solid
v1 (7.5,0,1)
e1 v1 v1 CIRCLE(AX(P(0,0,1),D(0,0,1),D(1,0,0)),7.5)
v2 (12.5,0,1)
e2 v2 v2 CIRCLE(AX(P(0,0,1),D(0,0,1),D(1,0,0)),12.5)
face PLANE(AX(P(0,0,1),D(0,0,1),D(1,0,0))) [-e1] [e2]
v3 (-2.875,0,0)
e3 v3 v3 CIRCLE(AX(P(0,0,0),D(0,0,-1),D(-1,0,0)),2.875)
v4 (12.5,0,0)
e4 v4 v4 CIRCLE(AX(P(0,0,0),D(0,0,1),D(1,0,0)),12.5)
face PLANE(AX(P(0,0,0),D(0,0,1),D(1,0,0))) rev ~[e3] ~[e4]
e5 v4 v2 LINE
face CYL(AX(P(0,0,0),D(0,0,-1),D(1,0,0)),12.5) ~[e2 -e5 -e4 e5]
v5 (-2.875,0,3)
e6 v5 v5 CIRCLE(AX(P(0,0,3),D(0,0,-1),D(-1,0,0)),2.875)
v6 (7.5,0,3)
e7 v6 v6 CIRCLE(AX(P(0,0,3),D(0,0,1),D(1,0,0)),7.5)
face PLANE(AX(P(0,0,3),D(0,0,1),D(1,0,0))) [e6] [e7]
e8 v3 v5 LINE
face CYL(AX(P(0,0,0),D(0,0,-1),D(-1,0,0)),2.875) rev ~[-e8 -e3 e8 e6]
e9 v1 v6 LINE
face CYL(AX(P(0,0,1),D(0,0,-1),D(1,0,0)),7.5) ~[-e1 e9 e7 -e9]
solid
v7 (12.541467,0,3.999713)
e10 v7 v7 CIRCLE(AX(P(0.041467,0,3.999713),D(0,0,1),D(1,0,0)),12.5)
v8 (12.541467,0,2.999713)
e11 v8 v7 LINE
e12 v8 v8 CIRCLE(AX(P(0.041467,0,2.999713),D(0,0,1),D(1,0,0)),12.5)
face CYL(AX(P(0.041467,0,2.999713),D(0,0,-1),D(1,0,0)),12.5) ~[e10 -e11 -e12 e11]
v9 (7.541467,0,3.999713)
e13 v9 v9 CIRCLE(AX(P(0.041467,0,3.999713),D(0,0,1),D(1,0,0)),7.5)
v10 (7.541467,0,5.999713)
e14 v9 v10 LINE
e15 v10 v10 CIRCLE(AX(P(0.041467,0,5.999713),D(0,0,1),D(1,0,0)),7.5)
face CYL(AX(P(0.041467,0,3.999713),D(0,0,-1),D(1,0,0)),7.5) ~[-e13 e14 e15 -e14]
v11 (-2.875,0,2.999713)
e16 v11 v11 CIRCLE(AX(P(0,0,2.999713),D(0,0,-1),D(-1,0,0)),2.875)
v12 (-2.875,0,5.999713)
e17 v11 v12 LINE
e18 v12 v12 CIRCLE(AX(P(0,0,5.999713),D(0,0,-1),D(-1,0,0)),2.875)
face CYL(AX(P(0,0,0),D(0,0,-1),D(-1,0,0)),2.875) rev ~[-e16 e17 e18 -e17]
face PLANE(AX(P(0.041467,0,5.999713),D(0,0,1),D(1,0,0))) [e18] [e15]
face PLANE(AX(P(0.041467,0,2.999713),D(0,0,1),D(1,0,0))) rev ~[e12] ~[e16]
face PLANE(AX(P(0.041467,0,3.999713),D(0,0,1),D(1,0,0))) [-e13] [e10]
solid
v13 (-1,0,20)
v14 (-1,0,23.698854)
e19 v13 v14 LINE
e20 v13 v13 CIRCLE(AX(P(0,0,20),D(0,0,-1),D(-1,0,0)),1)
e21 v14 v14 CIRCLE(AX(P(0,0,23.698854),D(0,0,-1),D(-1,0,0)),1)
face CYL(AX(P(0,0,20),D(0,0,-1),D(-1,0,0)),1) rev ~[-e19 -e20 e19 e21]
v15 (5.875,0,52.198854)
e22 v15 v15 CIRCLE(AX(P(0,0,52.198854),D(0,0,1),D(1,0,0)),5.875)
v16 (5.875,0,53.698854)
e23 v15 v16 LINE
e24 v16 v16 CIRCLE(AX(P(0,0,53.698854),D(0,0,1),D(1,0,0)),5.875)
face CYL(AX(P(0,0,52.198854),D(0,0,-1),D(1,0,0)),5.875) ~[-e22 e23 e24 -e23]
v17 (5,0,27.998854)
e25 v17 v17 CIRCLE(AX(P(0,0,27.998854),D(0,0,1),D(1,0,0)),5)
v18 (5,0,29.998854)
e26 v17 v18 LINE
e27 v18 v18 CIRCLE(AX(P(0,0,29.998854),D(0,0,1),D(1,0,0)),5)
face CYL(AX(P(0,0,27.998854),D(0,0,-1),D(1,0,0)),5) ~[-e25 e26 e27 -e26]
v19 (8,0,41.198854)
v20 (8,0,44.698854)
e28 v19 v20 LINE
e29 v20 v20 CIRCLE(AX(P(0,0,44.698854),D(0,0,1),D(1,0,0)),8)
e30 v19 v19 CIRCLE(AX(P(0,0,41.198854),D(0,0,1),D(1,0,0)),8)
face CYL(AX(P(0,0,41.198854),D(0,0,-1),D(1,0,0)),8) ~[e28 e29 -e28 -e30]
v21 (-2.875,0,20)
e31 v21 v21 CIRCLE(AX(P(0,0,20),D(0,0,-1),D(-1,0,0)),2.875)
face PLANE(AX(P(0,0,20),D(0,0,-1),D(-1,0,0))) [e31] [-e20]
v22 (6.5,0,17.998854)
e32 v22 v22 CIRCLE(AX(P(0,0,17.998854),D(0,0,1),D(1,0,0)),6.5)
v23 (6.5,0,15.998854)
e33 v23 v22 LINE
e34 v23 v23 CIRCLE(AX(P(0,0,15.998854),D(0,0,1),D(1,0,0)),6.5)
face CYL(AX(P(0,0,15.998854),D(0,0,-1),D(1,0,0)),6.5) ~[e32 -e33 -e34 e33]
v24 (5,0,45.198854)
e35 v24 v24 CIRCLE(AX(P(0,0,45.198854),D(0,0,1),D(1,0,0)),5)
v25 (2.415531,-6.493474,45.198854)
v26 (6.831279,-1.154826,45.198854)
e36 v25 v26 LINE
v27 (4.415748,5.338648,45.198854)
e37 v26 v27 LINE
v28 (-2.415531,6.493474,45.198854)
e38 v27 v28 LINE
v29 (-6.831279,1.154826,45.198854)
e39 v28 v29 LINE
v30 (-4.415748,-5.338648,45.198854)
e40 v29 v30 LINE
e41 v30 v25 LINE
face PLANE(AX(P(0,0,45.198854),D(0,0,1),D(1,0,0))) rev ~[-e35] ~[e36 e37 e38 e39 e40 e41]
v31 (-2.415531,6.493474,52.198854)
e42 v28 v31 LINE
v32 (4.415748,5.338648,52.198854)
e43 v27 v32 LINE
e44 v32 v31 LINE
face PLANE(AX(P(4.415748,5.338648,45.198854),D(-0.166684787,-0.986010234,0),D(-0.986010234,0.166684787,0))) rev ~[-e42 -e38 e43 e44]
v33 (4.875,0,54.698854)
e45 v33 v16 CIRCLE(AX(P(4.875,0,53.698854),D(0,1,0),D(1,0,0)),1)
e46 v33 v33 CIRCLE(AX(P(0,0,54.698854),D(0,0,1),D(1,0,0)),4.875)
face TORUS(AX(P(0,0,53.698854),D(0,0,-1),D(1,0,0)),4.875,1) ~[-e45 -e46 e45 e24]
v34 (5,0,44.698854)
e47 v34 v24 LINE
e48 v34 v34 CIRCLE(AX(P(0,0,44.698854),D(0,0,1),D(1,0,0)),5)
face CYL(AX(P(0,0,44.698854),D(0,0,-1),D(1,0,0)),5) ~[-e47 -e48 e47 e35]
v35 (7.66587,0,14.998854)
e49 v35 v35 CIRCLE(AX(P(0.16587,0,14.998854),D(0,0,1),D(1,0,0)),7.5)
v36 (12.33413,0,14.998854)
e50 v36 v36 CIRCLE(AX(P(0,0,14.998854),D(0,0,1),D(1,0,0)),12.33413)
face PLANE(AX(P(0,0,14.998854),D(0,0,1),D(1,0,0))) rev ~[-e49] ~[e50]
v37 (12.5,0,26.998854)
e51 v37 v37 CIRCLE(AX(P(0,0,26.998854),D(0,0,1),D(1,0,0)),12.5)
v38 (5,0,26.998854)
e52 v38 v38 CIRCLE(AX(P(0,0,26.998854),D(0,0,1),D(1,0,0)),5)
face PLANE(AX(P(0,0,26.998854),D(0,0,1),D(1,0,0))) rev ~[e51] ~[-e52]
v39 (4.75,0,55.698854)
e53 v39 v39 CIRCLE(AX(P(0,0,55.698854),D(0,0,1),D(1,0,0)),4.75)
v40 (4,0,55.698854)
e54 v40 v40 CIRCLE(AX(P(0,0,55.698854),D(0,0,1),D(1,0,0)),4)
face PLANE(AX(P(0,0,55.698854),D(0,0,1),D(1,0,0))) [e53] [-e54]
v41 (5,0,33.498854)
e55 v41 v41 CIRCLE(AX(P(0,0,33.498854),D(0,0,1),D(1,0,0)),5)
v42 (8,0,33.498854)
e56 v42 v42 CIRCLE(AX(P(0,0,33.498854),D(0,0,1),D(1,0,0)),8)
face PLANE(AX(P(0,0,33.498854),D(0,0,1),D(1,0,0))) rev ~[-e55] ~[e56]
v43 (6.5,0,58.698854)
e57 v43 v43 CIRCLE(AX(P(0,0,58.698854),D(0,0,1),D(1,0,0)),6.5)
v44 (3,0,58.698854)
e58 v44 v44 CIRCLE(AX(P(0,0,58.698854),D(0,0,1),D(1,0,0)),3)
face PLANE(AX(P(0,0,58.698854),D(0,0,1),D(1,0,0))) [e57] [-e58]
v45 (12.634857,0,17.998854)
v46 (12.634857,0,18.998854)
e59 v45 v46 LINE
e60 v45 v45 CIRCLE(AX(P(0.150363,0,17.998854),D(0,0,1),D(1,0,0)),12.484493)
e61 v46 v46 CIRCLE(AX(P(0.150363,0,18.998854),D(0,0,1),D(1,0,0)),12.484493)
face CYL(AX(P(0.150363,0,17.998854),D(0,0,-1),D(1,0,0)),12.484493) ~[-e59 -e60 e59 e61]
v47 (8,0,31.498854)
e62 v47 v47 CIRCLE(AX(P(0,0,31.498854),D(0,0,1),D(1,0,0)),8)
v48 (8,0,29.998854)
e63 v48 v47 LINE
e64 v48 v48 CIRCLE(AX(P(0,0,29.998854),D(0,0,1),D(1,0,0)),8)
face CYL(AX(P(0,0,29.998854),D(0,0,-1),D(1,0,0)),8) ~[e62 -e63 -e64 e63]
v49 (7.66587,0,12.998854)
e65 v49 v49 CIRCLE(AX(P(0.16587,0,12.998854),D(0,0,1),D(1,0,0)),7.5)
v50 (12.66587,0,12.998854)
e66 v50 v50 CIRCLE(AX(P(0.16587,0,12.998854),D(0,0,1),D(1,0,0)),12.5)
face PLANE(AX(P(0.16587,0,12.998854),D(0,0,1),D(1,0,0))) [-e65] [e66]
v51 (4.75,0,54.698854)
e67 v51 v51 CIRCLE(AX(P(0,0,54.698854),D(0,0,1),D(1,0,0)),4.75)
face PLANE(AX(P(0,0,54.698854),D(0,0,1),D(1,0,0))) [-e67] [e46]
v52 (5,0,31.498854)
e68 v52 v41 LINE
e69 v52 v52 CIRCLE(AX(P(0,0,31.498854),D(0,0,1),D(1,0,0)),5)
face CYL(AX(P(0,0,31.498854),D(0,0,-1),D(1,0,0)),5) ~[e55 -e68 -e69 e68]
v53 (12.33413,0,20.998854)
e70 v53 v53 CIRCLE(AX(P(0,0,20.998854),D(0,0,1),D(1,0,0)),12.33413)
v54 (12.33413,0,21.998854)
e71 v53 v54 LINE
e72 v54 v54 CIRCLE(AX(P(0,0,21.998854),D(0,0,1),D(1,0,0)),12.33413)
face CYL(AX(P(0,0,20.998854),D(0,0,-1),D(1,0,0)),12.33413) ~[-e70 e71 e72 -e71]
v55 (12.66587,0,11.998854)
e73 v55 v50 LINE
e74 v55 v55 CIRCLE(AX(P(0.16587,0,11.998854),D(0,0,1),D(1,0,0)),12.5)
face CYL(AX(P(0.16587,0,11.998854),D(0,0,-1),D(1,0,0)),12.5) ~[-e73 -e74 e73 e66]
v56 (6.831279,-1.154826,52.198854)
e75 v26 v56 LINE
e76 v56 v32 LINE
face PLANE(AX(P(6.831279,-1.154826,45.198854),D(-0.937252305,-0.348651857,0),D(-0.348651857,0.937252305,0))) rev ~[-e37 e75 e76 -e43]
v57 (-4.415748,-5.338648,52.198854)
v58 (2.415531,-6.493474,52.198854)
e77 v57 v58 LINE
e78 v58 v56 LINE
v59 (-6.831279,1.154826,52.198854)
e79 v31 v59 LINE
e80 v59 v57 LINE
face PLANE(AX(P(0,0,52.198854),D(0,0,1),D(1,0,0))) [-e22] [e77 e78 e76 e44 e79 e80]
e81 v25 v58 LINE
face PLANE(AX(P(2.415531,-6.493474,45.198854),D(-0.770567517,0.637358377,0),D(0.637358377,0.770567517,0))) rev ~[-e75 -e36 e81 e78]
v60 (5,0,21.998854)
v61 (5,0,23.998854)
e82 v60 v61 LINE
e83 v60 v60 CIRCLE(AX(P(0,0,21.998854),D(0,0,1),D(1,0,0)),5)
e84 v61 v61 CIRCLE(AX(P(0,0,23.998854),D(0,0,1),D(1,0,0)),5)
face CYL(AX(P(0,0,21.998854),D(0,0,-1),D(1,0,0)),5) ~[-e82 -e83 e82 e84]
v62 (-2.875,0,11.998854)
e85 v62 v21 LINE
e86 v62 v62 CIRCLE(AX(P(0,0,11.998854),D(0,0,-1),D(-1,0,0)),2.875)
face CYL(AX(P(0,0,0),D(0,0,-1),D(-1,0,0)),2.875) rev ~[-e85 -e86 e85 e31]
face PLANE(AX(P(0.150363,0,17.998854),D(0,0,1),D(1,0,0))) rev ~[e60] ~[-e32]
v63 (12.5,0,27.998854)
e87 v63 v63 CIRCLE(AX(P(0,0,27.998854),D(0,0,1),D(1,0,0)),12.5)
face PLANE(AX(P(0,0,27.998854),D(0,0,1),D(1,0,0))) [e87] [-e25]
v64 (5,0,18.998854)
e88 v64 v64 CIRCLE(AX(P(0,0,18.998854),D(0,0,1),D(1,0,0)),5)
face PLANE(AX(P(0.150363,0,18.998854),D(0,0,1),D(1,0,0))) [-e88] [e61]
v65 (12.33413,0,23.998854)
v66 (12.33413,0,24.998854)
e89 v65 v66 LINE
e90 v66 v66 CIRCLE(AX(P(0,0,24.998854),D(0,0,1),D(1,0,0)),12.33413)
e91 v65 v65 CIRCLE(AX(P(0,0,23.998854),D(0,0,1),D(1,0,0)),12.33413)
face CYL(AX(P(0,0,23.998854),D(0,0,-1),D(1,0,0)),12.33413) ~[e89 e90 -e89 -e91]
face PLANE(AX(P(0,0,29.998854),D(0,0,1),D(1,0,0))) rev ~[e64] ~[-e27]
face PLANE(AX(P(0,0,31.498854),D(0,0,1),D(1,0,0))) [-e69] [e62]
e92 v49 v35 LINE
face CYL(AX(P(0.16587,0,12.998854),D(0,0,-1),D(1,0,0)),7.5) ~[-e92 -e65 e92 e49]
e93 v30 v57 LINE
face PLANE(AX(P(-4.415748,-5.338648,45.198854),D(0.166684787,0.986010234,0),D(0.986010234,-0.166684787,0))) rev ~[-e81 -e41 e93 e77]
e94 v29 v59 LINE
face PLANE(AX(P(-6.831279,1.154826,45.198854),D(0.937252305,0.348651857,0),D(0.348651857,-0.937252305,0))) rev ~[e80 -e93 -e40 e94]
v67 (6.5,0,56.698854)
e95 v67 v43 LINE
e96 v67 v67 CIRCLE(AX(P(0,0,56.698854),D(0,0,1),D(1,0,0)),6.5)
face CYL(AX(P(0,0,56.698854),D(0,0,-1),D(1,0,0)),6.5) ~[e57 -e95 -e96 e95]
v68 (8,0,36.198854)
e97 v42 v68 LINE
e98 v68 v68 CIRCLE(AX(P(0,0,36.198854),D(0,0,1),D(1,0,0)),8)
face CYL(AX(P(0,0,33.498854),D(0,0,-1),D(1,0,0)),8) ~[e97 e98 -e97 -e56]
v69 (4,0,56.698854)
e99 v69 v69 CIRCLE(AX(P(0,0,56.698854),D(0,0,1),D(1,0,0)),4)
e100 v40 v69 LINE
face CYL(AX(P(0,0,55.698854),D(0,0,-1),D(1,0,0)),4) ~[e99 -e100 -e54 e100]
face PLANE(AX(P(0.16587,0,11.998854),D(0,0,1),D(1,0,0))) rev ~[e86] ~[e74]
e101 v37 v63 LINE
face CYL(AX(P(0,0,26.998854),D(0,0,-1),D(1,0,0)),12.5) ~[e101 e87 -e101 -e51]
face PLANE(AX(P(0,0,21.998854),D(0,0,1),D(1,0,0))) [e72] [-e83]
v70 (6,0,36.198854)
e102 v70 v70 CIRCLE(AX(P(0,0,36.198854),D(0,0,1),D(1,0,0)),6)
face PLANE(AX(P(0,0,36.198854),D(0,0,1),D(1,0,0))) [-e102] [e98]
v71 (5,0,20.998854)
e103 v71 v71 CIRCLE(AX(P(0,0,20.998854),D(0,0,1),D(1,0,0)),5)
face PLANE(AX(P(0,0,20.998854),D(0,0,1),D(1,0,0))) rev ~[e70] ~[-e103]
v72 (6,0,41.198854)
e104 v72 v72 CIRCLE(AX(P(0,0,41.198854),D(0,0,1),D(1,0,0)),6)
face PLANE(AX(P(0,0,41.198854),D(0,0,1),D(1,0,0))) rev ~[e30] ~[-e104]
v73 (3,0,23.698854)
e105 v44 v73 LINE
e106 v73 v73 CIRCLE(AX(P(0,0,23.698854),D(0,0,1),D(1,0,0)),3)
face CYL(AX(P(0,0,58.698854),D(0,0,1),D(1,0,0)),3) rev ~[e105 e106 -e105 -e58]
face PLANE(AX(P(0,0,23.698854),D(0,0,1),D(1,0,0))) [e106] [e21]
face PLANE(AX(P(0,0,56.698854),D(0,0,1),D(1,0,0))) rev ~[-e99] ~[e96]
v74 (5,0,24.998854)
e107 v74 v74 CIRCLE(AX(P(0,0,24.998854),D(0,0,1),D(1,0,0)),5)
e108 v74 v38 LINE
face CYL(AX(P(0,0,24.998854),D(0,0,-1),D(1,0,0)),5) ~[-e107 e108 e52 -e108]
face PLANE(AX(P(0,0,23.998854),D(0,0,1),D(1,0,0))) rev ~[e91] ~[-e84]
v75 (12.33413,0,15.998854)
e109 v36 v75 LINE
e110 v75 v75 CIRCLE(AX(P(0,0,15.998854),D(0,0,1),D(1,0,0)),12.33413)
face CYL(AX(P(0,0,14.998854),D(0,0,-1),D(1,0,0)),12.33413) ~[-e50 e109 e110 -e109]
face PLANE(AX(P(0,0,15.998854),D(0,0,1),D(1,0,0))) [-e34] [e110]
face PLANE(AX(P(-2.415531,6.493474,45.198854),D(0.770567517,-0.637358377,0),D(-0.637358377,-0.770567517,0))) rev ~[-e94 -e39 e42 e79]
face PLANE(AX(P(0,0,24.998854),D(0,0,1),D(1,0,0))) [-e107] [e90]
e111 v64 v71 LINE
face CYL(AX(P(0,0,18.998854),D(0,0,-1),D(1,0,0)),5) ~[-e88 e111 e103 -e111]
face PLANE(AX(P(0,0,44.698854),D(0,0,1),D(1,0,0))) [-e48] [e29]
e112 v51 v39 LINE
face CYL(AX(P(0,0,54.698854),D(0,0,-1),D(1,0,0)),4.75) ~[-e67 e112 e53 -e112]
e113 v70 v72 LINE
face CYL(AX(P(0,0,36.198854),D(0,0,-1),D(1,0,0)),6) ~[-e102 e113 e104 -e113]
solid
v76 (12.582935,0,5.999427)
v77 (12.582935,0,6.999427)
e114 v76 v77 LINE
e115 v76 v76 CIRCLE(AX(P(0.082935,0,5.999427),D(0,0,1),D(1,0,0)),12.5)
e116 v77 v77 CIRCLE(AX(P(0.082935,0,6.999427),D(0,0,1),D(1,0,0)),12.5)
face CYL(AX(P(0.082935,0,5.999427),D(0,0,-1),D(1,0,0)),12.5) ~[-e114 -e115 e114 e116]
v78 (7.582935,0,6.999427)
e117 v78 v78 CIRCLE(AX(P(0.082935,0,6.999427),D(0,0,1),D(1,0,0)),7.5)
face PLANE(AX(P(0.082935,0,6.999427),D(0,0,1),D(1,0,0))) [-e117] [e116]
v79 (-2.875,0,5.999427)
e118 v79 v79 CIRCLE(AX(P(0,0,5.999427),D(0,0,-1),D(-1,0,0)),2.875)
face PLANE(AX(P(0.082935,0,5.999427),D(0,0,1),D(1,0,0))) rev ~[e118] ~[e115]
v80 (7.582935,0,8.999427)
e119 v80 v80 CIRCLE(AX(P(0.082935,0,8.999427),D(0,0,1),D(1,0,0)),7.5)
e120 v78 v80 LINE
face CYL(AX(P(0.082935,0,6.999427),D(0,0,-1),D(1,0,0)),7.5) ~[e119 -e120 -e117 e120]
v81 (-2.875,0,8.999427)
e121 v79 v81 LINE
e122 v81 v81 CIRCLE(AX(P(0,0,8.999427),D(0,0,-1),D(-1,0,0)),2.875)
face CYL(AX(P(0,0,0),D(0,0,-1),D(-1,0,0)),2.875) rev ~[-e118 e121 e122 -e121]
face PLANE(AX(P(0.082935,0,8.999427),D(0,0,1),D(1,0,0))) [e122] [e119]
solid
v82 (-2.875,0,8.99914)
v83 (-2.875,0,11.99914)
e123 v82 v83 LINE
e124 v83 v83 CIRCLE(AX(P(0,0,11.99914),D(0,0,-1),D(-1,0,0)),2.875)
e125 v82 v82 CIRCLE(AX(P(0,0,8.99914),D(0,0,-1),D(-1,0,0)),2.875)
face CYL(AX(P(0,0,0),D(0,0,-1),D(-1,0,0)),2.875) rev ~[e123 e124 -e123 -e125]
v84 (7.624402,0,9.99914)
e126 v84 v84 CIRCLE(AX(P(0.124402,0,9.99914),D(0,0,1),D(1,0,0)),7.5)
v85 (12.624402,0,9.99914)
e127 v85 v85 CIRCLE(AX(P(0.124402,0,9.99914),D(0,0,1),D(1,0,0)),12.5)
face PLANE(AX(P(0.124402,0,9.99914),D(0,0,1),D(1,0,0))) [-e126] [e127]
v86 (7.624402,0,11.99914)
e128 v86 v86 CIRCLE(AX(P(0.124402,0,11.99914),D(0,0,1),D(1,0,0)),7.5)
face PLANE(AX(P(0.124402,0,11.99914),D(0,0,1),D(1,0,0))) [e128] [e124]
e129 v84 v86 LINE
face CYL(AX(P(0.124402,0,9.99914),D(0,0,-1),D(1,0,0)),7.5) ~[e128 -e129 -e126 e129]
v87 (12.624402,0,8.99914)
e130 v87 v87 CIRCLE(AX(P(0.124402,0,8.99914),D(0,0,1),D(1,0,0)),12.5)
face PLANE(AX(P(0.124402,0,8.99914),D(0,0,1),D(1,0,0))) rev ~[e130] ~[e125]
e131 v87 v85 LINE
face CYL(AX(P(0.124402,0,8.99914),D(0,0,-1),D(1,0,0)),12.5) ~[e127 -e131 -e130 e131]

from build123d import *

# Parameters (mm, degrees)
SKETCH1_R            = 12.5
BOSS_EXTRUDE1_DEPTH  = 1
SKETCH2_R            = 7.5
BOSS_EXTRUDE2_DEPTH  = 2
LPATTERN2_COUNT      = 5
LPATTERN2_PITCH      = 3
SKETCH4_R            = 12.334130066
BOSS_EXTRUDE3_DEPTH  = 1
SKETCH5_R            = 6.5
BOSS_EXTRUDE4_DEPTH  = 2
SKETCH6_R            = 12.484493424
BOSS_EXTRUDE5_DEPTH  = 1
SKETCH7_R            = 5
BOSS_EXTRUDE6_DEPTH  = 2
SKETCH8_R            = 12.334130066
BOSS_EXTRUDE7_DEPTH  = 1
SKETCH9_R            = 5
BOSS_EXTRUDE8_DEPTH  = 2
SKETCH10_R           = 12.334130066
BOSS_EXTRUDE9_DEPTH  = 1
SKETCH11_R           = 5
BOSS_EXTRUDE10_DEPTH = 2
SKETCH12_R           = 12.5
BOSS_EXTRUDE11_DEPTH = 1
SKETCH13_R           = 5
BOSS_EXTRUDE12_DEPTH = 2
SKETCH14_R           = 8
BOSS_EXTRUDE13_DEPTH = 1.5
SKETCH15_R           = 5
BOSS_EXTRUDE14_DEPTH = 2
SKETCH16_R           = 8
BOSS_EXTRUDE15_DEPTH = 2.7
SKETCH17_R           = 6
BOSS_EXTRUDE16_DEPTH = 5
SKETCH18_R           = 8
BOSS_EXTRUDE17_DEPTH = 3.5
SKETCH19_R           = 5
BOSS_EXTRUDE18_DEPTH = 0.5
BOSS_EXTRUDE19_DEPTH = 7
SKETCH21_R           = 5.875
BOSS_EXTRUDE20_DEPTH = 2.5
SKETCH22_R           = 4.75
BOSS_EXTRUDE21_DEPTH = 1
SKETCH23_R           = 4
BOSS_EXTRUDE22_DEPTH = 1
SKETCH24_R           = 6.5
BOSS_EXTRUDE23_DEPTH = 2
FILLET1_R            = 1
SKETCH27_R           = 2.875
CUT_EXTRUDE3_DEPTH   = 20
SKETCH28_R           = 1
CUT_EXTRUDE4_DEPTH   = 35
SKETCH29_R           = 3
CUT_EXTRUDE5_DEPTH   = 35


with BuildPart() as part:
    # Sketch1 → Boss-Extrude1 (new body)
    with BuildSketch(Plane.XY):
        Circle(SKETCH1_R)
    extrude(amount=BOSS_EXTRUDE1_DEPTH)

    # Sketch2 → Boss-Extrude2 (add)
    with BuildSketch(Plane.XY.offset(1)):
        Circle(SKETCH2_R)
    extrude(amount=BOSS_EXTRUDE2_DEPTH)


with BuildPart() as lpattern2_1:
    # LPattern2: pattern copy
    add(part.part.moved(Location(Vector(0.013822494, 0, 0.999904465) * (1 * LPATTERN2_PITCH))))


with BuildPart() as lpattern2_2:
    # LPattern2: pattern copy
    add(part.part.moved(Location(Vector(0.013822494, 0, 0.999904465) * (2 * LPATTERN2_PITCH))))


with BuildPart() as lpattern2_3:
    # LPattern2: pattern copy
    add(part.part.moved(Location(Vector(0.013822494, 0, 0.999904465) * (3 * LPATTERN2_PITCH))))


with BuildPart() as lpattern2_4:
    # LPattern2: pattern copy
    add(part.part.moved(Location(Vector(0.013822494, 0, 0.999904465) * (4 * LPATTERN2_PITCH))))

    # Sketch4 → Boss-Extrude3 (add)
    with BuildSketch(Plane.XY.offset(14.998853577)):
        Circle(SKETCH4_R)
    extrude(amount=BOSS_EXTRUDE3_DEPTH)

    # Sketch5 → Boss-Extrude4 (add)
    with BuildSketch(Plane.XY.offset(15.998853577)):
        Circle(SKETCH5_R)
    extrude(amount=BOSS_EXTRUDE4_DEPTH)

    # Sketch6 → Boss-Extrude5 (add)
    with BuildSketch(Plane.XY.offset(17.998853577)):
        with Locations((0.150363357, 0)):
            Circle(SKETCH6_R)
    extrude(amount=BOSS_EXTRUDE5_DEPTH)

    # Sketch7 → Boss-Extrude6 (add)
    with BuildSketch(Plane.XY.offset(18.998853577)):
        Circle(SKETCH7_R)
    extrude(amount=BOSS_EXTRUDE6_DEPTH)

    # Sketch8 → Boss-Extrude7 (add)
    with BuildSketch(Plane.XY.offset(20.998853577)):
        Circle(SKETCH8_R)
    extrude(amount=BOSS_EXTRUDE7_DEPTH)

    # Sketch9 → Boss-Extrude8 (add)
    with BuildSketch(Plane.XY.offset(21.998853577)):
        Circle(SKETCH9_R)
    extrude(amount=BOSS_EXTRUDE8_DEPTH)

    # Sketch10 → Boss-Extrude9 (add)
    with BuildSketch(Plane.XY.offset(23.998853577)):
        Circle(SKETCH10_R)
    extrude(amount=BOSS_EXTRUDE9_DEPTH)

    # Sketch11 → Boss-Extrude10 (add)
    with BuildSketch(Plane.XY.offset(24.998853577)):
        Circle(SKETCH11_R)
    extrude(amount=BOSS_EXTRUDE10_DEPTH)

    # Sketch12 → Boss-Extrude11 (add)
    with BuildSketch(Plane.XY.offset(26.998853577)):
        Circle(SKETCH12_R)
    extrude(amount=BOSS_EXTRUDE11_DEPTH)

    # Sketch13 → Boss-Extrude12 (add)
    with BuildSketch(Plane.XY.offset(27.998853577)):
        Circle(SKETCH13_R)
    extrude(amount=BOSS_EXTRUDE12_DEPTH)

    # Sketch14 → Boss-Extrude13 (add)
    with BuildSketch(Plane.XY.offset(29.998853577)):
        Circle(SKETCH14_R)
    extrude(amount=BOSS_EXTRUDE13_DEPTH)

    # Sketch15 → Boss-Extrude14 (add)
    with BuildSketch(Plane.XY.offset(31.498853577)):
        Circle(SKETCH15_R)
    extrude(amount=BOSS_EXTRUDE14_DEPTH)

    # Sketch16 → Boss-Extrude15 (add)
    with BuildSketch(Plane.XY.offset(33.498853577)):
        Circle(SKETCH16_R)
    extrude(amount=BOSS_EXTRUDE15_DEPTH)

    # Sketch17 → Boss-Extrude16 (add)
    with BuildSketch(Plane.XY.offset(36.198853577)):
        Circle(SKETCH17_R)
    extrude(amount=BOSS_EXTRUDE16_DEPTH)

    # Sketch18 → Boss-Extrude17 (add)
    with BuildSketch(Plane.XY.offset(41.198853577)):
        Circle(SKETCH18_R)
    extrude(amount=BOSS_EXTRUDE17_DEPTH)

    # Sketch19 → Boss-Extrude18 (add)
    with BuildSketch(Plane.XY.offset(44.698853577)):
        Circle(SKETCH19_R)
    extrude(amount=BOSS_EXTRUDE18_DEPTH)

    # Sketch20 → Boss-Extrude19 (add)
    with BuildSketch(Plane.XY.offset(45.198853577)):
        Polygon((2.415530921, -6.493474445), (6.831279289, -1.154826082), (4.415748368, 5.338648364), (-2.415530921, 6.493474445), (-6.831279289, 1.154826082), (-4.415748368, -5.338648364), align=None)
    extrude(amount=BOSS_EXTRUDE19_DEPTH)

    # Sketch21 → Boss-Extrude20 (add)
    with BuildSketch(Plane.XY.offset(52.198853577)):
        Circle(SKETCH21_R)
    extrude(amount=BOSS_EXTRUDE20_DEPTH)

    # Sketch22 → Boss-Extrude21 (add)
    with BuildSketch(Plane.XY.offset(54.698853577)):
        Circle(SKETCH22_R)
    extrude(amount=BOSS_EXTRUDE21_DEPTH)

    # Sketch23 → Boss-Extrude22 (add)
    with BuildSketch(Plane.XY.offset(55.698853577)):
        Circle(SKETCH23_R)
    extrude(amount=BOSS_EXTRUDE22_DEPTH)

    # Sketch24 → Boss-Extrude23 (add)
    with BuildSketch(Plane.XY.offset(56.698853577)):
        Circle(SKETCH24_R)
    extrude(amount=BOSS_EXTRUDE23_DEPTH)

    # Fillet1
    fillet1_edges = [lpattern2_4.edges().sort_by_distance(p)[0] for p in [
        (-5.875, 0, 54.698853577),
    ]]
    fillet(fillet1_edges, radius=FILLET1_R)


with BuildPart() as cut_extrude3_tool:
    # Sketch27 → Cut-Extrude3 (new body)
    with BuildSketch(Plane(origin=(0, 0, 0), x_dir=(-1, 0, 0), z_dir=(0, 0, -1))):
        Circle(SKETCH27_R)
    extrude(amount=-CUT_EXTRUDE3_DEPTH)


with BuildPart() as part_1:
    add(part.part)

    # Cut-Extrude3: cut by cut_extrude3_tool
    add(cut_extrude3_tool.part, mode=Mode.SUBTRACT)


with BuildPart() as lpattern2_1_1:
    add(lpattern2_1.part)

    # Cut-Extrude3: cut by cut_extrude3_tool
    add(cut_extrude3_tool.part, mode=Mode.SUBTRACT)


with BuildPart() as lpattern2_2_1:
    add(lpattern2_2.part)

    # Cut-Extrude3: cut by cut_extrude3_tool
    add(cut_extrude3_tool.part, mode=Mode.SUBTRACT)


with BuildPart() as lpattern2_3_1:
    add(lpattern2_3.part)

    # Cut-Extrude3: cut by cut_extrude3_tool
    add(cut_extrude3_tool.part, mode=Mode.SUBTRACT)


with BuildPart() as lpattern2_4_1:
    add(lpattern2_4.part)

    # Cut-Extrude3: cut by cut_extrude3_tool
    add(cut_extrude3_tool.part, mode=Mode.SUBTRACT)

    # Sketch28 → Cut-Extrude4 (cut)
    with BuildSketch(Plane(origin=(0, 0, 20), x_dir=(-1, 0, 0), z_dir=(0, 0, -1))):
        Circle(SKETCH28_R)
    extrude(amount=-CUT_EXTRUDE4_DEPTH, mode=Mode.SUBTRACT)

    # Sketch29 → Cut-Extrude5 (cut)
    with BuildSketch(Plane.XY.offset(58.698853577)):
        Circle(SKETCH29_R)
    extrude(amount=-CUT_EXTRUDE5_DEPTH, mode=Mode.SUBTRACT)


solid = Compound([part_1.part, lpattern2_1_1.part, lpattern2_2_1.part, lpattern2_3_1.part, lpattern2_4_1.part])
